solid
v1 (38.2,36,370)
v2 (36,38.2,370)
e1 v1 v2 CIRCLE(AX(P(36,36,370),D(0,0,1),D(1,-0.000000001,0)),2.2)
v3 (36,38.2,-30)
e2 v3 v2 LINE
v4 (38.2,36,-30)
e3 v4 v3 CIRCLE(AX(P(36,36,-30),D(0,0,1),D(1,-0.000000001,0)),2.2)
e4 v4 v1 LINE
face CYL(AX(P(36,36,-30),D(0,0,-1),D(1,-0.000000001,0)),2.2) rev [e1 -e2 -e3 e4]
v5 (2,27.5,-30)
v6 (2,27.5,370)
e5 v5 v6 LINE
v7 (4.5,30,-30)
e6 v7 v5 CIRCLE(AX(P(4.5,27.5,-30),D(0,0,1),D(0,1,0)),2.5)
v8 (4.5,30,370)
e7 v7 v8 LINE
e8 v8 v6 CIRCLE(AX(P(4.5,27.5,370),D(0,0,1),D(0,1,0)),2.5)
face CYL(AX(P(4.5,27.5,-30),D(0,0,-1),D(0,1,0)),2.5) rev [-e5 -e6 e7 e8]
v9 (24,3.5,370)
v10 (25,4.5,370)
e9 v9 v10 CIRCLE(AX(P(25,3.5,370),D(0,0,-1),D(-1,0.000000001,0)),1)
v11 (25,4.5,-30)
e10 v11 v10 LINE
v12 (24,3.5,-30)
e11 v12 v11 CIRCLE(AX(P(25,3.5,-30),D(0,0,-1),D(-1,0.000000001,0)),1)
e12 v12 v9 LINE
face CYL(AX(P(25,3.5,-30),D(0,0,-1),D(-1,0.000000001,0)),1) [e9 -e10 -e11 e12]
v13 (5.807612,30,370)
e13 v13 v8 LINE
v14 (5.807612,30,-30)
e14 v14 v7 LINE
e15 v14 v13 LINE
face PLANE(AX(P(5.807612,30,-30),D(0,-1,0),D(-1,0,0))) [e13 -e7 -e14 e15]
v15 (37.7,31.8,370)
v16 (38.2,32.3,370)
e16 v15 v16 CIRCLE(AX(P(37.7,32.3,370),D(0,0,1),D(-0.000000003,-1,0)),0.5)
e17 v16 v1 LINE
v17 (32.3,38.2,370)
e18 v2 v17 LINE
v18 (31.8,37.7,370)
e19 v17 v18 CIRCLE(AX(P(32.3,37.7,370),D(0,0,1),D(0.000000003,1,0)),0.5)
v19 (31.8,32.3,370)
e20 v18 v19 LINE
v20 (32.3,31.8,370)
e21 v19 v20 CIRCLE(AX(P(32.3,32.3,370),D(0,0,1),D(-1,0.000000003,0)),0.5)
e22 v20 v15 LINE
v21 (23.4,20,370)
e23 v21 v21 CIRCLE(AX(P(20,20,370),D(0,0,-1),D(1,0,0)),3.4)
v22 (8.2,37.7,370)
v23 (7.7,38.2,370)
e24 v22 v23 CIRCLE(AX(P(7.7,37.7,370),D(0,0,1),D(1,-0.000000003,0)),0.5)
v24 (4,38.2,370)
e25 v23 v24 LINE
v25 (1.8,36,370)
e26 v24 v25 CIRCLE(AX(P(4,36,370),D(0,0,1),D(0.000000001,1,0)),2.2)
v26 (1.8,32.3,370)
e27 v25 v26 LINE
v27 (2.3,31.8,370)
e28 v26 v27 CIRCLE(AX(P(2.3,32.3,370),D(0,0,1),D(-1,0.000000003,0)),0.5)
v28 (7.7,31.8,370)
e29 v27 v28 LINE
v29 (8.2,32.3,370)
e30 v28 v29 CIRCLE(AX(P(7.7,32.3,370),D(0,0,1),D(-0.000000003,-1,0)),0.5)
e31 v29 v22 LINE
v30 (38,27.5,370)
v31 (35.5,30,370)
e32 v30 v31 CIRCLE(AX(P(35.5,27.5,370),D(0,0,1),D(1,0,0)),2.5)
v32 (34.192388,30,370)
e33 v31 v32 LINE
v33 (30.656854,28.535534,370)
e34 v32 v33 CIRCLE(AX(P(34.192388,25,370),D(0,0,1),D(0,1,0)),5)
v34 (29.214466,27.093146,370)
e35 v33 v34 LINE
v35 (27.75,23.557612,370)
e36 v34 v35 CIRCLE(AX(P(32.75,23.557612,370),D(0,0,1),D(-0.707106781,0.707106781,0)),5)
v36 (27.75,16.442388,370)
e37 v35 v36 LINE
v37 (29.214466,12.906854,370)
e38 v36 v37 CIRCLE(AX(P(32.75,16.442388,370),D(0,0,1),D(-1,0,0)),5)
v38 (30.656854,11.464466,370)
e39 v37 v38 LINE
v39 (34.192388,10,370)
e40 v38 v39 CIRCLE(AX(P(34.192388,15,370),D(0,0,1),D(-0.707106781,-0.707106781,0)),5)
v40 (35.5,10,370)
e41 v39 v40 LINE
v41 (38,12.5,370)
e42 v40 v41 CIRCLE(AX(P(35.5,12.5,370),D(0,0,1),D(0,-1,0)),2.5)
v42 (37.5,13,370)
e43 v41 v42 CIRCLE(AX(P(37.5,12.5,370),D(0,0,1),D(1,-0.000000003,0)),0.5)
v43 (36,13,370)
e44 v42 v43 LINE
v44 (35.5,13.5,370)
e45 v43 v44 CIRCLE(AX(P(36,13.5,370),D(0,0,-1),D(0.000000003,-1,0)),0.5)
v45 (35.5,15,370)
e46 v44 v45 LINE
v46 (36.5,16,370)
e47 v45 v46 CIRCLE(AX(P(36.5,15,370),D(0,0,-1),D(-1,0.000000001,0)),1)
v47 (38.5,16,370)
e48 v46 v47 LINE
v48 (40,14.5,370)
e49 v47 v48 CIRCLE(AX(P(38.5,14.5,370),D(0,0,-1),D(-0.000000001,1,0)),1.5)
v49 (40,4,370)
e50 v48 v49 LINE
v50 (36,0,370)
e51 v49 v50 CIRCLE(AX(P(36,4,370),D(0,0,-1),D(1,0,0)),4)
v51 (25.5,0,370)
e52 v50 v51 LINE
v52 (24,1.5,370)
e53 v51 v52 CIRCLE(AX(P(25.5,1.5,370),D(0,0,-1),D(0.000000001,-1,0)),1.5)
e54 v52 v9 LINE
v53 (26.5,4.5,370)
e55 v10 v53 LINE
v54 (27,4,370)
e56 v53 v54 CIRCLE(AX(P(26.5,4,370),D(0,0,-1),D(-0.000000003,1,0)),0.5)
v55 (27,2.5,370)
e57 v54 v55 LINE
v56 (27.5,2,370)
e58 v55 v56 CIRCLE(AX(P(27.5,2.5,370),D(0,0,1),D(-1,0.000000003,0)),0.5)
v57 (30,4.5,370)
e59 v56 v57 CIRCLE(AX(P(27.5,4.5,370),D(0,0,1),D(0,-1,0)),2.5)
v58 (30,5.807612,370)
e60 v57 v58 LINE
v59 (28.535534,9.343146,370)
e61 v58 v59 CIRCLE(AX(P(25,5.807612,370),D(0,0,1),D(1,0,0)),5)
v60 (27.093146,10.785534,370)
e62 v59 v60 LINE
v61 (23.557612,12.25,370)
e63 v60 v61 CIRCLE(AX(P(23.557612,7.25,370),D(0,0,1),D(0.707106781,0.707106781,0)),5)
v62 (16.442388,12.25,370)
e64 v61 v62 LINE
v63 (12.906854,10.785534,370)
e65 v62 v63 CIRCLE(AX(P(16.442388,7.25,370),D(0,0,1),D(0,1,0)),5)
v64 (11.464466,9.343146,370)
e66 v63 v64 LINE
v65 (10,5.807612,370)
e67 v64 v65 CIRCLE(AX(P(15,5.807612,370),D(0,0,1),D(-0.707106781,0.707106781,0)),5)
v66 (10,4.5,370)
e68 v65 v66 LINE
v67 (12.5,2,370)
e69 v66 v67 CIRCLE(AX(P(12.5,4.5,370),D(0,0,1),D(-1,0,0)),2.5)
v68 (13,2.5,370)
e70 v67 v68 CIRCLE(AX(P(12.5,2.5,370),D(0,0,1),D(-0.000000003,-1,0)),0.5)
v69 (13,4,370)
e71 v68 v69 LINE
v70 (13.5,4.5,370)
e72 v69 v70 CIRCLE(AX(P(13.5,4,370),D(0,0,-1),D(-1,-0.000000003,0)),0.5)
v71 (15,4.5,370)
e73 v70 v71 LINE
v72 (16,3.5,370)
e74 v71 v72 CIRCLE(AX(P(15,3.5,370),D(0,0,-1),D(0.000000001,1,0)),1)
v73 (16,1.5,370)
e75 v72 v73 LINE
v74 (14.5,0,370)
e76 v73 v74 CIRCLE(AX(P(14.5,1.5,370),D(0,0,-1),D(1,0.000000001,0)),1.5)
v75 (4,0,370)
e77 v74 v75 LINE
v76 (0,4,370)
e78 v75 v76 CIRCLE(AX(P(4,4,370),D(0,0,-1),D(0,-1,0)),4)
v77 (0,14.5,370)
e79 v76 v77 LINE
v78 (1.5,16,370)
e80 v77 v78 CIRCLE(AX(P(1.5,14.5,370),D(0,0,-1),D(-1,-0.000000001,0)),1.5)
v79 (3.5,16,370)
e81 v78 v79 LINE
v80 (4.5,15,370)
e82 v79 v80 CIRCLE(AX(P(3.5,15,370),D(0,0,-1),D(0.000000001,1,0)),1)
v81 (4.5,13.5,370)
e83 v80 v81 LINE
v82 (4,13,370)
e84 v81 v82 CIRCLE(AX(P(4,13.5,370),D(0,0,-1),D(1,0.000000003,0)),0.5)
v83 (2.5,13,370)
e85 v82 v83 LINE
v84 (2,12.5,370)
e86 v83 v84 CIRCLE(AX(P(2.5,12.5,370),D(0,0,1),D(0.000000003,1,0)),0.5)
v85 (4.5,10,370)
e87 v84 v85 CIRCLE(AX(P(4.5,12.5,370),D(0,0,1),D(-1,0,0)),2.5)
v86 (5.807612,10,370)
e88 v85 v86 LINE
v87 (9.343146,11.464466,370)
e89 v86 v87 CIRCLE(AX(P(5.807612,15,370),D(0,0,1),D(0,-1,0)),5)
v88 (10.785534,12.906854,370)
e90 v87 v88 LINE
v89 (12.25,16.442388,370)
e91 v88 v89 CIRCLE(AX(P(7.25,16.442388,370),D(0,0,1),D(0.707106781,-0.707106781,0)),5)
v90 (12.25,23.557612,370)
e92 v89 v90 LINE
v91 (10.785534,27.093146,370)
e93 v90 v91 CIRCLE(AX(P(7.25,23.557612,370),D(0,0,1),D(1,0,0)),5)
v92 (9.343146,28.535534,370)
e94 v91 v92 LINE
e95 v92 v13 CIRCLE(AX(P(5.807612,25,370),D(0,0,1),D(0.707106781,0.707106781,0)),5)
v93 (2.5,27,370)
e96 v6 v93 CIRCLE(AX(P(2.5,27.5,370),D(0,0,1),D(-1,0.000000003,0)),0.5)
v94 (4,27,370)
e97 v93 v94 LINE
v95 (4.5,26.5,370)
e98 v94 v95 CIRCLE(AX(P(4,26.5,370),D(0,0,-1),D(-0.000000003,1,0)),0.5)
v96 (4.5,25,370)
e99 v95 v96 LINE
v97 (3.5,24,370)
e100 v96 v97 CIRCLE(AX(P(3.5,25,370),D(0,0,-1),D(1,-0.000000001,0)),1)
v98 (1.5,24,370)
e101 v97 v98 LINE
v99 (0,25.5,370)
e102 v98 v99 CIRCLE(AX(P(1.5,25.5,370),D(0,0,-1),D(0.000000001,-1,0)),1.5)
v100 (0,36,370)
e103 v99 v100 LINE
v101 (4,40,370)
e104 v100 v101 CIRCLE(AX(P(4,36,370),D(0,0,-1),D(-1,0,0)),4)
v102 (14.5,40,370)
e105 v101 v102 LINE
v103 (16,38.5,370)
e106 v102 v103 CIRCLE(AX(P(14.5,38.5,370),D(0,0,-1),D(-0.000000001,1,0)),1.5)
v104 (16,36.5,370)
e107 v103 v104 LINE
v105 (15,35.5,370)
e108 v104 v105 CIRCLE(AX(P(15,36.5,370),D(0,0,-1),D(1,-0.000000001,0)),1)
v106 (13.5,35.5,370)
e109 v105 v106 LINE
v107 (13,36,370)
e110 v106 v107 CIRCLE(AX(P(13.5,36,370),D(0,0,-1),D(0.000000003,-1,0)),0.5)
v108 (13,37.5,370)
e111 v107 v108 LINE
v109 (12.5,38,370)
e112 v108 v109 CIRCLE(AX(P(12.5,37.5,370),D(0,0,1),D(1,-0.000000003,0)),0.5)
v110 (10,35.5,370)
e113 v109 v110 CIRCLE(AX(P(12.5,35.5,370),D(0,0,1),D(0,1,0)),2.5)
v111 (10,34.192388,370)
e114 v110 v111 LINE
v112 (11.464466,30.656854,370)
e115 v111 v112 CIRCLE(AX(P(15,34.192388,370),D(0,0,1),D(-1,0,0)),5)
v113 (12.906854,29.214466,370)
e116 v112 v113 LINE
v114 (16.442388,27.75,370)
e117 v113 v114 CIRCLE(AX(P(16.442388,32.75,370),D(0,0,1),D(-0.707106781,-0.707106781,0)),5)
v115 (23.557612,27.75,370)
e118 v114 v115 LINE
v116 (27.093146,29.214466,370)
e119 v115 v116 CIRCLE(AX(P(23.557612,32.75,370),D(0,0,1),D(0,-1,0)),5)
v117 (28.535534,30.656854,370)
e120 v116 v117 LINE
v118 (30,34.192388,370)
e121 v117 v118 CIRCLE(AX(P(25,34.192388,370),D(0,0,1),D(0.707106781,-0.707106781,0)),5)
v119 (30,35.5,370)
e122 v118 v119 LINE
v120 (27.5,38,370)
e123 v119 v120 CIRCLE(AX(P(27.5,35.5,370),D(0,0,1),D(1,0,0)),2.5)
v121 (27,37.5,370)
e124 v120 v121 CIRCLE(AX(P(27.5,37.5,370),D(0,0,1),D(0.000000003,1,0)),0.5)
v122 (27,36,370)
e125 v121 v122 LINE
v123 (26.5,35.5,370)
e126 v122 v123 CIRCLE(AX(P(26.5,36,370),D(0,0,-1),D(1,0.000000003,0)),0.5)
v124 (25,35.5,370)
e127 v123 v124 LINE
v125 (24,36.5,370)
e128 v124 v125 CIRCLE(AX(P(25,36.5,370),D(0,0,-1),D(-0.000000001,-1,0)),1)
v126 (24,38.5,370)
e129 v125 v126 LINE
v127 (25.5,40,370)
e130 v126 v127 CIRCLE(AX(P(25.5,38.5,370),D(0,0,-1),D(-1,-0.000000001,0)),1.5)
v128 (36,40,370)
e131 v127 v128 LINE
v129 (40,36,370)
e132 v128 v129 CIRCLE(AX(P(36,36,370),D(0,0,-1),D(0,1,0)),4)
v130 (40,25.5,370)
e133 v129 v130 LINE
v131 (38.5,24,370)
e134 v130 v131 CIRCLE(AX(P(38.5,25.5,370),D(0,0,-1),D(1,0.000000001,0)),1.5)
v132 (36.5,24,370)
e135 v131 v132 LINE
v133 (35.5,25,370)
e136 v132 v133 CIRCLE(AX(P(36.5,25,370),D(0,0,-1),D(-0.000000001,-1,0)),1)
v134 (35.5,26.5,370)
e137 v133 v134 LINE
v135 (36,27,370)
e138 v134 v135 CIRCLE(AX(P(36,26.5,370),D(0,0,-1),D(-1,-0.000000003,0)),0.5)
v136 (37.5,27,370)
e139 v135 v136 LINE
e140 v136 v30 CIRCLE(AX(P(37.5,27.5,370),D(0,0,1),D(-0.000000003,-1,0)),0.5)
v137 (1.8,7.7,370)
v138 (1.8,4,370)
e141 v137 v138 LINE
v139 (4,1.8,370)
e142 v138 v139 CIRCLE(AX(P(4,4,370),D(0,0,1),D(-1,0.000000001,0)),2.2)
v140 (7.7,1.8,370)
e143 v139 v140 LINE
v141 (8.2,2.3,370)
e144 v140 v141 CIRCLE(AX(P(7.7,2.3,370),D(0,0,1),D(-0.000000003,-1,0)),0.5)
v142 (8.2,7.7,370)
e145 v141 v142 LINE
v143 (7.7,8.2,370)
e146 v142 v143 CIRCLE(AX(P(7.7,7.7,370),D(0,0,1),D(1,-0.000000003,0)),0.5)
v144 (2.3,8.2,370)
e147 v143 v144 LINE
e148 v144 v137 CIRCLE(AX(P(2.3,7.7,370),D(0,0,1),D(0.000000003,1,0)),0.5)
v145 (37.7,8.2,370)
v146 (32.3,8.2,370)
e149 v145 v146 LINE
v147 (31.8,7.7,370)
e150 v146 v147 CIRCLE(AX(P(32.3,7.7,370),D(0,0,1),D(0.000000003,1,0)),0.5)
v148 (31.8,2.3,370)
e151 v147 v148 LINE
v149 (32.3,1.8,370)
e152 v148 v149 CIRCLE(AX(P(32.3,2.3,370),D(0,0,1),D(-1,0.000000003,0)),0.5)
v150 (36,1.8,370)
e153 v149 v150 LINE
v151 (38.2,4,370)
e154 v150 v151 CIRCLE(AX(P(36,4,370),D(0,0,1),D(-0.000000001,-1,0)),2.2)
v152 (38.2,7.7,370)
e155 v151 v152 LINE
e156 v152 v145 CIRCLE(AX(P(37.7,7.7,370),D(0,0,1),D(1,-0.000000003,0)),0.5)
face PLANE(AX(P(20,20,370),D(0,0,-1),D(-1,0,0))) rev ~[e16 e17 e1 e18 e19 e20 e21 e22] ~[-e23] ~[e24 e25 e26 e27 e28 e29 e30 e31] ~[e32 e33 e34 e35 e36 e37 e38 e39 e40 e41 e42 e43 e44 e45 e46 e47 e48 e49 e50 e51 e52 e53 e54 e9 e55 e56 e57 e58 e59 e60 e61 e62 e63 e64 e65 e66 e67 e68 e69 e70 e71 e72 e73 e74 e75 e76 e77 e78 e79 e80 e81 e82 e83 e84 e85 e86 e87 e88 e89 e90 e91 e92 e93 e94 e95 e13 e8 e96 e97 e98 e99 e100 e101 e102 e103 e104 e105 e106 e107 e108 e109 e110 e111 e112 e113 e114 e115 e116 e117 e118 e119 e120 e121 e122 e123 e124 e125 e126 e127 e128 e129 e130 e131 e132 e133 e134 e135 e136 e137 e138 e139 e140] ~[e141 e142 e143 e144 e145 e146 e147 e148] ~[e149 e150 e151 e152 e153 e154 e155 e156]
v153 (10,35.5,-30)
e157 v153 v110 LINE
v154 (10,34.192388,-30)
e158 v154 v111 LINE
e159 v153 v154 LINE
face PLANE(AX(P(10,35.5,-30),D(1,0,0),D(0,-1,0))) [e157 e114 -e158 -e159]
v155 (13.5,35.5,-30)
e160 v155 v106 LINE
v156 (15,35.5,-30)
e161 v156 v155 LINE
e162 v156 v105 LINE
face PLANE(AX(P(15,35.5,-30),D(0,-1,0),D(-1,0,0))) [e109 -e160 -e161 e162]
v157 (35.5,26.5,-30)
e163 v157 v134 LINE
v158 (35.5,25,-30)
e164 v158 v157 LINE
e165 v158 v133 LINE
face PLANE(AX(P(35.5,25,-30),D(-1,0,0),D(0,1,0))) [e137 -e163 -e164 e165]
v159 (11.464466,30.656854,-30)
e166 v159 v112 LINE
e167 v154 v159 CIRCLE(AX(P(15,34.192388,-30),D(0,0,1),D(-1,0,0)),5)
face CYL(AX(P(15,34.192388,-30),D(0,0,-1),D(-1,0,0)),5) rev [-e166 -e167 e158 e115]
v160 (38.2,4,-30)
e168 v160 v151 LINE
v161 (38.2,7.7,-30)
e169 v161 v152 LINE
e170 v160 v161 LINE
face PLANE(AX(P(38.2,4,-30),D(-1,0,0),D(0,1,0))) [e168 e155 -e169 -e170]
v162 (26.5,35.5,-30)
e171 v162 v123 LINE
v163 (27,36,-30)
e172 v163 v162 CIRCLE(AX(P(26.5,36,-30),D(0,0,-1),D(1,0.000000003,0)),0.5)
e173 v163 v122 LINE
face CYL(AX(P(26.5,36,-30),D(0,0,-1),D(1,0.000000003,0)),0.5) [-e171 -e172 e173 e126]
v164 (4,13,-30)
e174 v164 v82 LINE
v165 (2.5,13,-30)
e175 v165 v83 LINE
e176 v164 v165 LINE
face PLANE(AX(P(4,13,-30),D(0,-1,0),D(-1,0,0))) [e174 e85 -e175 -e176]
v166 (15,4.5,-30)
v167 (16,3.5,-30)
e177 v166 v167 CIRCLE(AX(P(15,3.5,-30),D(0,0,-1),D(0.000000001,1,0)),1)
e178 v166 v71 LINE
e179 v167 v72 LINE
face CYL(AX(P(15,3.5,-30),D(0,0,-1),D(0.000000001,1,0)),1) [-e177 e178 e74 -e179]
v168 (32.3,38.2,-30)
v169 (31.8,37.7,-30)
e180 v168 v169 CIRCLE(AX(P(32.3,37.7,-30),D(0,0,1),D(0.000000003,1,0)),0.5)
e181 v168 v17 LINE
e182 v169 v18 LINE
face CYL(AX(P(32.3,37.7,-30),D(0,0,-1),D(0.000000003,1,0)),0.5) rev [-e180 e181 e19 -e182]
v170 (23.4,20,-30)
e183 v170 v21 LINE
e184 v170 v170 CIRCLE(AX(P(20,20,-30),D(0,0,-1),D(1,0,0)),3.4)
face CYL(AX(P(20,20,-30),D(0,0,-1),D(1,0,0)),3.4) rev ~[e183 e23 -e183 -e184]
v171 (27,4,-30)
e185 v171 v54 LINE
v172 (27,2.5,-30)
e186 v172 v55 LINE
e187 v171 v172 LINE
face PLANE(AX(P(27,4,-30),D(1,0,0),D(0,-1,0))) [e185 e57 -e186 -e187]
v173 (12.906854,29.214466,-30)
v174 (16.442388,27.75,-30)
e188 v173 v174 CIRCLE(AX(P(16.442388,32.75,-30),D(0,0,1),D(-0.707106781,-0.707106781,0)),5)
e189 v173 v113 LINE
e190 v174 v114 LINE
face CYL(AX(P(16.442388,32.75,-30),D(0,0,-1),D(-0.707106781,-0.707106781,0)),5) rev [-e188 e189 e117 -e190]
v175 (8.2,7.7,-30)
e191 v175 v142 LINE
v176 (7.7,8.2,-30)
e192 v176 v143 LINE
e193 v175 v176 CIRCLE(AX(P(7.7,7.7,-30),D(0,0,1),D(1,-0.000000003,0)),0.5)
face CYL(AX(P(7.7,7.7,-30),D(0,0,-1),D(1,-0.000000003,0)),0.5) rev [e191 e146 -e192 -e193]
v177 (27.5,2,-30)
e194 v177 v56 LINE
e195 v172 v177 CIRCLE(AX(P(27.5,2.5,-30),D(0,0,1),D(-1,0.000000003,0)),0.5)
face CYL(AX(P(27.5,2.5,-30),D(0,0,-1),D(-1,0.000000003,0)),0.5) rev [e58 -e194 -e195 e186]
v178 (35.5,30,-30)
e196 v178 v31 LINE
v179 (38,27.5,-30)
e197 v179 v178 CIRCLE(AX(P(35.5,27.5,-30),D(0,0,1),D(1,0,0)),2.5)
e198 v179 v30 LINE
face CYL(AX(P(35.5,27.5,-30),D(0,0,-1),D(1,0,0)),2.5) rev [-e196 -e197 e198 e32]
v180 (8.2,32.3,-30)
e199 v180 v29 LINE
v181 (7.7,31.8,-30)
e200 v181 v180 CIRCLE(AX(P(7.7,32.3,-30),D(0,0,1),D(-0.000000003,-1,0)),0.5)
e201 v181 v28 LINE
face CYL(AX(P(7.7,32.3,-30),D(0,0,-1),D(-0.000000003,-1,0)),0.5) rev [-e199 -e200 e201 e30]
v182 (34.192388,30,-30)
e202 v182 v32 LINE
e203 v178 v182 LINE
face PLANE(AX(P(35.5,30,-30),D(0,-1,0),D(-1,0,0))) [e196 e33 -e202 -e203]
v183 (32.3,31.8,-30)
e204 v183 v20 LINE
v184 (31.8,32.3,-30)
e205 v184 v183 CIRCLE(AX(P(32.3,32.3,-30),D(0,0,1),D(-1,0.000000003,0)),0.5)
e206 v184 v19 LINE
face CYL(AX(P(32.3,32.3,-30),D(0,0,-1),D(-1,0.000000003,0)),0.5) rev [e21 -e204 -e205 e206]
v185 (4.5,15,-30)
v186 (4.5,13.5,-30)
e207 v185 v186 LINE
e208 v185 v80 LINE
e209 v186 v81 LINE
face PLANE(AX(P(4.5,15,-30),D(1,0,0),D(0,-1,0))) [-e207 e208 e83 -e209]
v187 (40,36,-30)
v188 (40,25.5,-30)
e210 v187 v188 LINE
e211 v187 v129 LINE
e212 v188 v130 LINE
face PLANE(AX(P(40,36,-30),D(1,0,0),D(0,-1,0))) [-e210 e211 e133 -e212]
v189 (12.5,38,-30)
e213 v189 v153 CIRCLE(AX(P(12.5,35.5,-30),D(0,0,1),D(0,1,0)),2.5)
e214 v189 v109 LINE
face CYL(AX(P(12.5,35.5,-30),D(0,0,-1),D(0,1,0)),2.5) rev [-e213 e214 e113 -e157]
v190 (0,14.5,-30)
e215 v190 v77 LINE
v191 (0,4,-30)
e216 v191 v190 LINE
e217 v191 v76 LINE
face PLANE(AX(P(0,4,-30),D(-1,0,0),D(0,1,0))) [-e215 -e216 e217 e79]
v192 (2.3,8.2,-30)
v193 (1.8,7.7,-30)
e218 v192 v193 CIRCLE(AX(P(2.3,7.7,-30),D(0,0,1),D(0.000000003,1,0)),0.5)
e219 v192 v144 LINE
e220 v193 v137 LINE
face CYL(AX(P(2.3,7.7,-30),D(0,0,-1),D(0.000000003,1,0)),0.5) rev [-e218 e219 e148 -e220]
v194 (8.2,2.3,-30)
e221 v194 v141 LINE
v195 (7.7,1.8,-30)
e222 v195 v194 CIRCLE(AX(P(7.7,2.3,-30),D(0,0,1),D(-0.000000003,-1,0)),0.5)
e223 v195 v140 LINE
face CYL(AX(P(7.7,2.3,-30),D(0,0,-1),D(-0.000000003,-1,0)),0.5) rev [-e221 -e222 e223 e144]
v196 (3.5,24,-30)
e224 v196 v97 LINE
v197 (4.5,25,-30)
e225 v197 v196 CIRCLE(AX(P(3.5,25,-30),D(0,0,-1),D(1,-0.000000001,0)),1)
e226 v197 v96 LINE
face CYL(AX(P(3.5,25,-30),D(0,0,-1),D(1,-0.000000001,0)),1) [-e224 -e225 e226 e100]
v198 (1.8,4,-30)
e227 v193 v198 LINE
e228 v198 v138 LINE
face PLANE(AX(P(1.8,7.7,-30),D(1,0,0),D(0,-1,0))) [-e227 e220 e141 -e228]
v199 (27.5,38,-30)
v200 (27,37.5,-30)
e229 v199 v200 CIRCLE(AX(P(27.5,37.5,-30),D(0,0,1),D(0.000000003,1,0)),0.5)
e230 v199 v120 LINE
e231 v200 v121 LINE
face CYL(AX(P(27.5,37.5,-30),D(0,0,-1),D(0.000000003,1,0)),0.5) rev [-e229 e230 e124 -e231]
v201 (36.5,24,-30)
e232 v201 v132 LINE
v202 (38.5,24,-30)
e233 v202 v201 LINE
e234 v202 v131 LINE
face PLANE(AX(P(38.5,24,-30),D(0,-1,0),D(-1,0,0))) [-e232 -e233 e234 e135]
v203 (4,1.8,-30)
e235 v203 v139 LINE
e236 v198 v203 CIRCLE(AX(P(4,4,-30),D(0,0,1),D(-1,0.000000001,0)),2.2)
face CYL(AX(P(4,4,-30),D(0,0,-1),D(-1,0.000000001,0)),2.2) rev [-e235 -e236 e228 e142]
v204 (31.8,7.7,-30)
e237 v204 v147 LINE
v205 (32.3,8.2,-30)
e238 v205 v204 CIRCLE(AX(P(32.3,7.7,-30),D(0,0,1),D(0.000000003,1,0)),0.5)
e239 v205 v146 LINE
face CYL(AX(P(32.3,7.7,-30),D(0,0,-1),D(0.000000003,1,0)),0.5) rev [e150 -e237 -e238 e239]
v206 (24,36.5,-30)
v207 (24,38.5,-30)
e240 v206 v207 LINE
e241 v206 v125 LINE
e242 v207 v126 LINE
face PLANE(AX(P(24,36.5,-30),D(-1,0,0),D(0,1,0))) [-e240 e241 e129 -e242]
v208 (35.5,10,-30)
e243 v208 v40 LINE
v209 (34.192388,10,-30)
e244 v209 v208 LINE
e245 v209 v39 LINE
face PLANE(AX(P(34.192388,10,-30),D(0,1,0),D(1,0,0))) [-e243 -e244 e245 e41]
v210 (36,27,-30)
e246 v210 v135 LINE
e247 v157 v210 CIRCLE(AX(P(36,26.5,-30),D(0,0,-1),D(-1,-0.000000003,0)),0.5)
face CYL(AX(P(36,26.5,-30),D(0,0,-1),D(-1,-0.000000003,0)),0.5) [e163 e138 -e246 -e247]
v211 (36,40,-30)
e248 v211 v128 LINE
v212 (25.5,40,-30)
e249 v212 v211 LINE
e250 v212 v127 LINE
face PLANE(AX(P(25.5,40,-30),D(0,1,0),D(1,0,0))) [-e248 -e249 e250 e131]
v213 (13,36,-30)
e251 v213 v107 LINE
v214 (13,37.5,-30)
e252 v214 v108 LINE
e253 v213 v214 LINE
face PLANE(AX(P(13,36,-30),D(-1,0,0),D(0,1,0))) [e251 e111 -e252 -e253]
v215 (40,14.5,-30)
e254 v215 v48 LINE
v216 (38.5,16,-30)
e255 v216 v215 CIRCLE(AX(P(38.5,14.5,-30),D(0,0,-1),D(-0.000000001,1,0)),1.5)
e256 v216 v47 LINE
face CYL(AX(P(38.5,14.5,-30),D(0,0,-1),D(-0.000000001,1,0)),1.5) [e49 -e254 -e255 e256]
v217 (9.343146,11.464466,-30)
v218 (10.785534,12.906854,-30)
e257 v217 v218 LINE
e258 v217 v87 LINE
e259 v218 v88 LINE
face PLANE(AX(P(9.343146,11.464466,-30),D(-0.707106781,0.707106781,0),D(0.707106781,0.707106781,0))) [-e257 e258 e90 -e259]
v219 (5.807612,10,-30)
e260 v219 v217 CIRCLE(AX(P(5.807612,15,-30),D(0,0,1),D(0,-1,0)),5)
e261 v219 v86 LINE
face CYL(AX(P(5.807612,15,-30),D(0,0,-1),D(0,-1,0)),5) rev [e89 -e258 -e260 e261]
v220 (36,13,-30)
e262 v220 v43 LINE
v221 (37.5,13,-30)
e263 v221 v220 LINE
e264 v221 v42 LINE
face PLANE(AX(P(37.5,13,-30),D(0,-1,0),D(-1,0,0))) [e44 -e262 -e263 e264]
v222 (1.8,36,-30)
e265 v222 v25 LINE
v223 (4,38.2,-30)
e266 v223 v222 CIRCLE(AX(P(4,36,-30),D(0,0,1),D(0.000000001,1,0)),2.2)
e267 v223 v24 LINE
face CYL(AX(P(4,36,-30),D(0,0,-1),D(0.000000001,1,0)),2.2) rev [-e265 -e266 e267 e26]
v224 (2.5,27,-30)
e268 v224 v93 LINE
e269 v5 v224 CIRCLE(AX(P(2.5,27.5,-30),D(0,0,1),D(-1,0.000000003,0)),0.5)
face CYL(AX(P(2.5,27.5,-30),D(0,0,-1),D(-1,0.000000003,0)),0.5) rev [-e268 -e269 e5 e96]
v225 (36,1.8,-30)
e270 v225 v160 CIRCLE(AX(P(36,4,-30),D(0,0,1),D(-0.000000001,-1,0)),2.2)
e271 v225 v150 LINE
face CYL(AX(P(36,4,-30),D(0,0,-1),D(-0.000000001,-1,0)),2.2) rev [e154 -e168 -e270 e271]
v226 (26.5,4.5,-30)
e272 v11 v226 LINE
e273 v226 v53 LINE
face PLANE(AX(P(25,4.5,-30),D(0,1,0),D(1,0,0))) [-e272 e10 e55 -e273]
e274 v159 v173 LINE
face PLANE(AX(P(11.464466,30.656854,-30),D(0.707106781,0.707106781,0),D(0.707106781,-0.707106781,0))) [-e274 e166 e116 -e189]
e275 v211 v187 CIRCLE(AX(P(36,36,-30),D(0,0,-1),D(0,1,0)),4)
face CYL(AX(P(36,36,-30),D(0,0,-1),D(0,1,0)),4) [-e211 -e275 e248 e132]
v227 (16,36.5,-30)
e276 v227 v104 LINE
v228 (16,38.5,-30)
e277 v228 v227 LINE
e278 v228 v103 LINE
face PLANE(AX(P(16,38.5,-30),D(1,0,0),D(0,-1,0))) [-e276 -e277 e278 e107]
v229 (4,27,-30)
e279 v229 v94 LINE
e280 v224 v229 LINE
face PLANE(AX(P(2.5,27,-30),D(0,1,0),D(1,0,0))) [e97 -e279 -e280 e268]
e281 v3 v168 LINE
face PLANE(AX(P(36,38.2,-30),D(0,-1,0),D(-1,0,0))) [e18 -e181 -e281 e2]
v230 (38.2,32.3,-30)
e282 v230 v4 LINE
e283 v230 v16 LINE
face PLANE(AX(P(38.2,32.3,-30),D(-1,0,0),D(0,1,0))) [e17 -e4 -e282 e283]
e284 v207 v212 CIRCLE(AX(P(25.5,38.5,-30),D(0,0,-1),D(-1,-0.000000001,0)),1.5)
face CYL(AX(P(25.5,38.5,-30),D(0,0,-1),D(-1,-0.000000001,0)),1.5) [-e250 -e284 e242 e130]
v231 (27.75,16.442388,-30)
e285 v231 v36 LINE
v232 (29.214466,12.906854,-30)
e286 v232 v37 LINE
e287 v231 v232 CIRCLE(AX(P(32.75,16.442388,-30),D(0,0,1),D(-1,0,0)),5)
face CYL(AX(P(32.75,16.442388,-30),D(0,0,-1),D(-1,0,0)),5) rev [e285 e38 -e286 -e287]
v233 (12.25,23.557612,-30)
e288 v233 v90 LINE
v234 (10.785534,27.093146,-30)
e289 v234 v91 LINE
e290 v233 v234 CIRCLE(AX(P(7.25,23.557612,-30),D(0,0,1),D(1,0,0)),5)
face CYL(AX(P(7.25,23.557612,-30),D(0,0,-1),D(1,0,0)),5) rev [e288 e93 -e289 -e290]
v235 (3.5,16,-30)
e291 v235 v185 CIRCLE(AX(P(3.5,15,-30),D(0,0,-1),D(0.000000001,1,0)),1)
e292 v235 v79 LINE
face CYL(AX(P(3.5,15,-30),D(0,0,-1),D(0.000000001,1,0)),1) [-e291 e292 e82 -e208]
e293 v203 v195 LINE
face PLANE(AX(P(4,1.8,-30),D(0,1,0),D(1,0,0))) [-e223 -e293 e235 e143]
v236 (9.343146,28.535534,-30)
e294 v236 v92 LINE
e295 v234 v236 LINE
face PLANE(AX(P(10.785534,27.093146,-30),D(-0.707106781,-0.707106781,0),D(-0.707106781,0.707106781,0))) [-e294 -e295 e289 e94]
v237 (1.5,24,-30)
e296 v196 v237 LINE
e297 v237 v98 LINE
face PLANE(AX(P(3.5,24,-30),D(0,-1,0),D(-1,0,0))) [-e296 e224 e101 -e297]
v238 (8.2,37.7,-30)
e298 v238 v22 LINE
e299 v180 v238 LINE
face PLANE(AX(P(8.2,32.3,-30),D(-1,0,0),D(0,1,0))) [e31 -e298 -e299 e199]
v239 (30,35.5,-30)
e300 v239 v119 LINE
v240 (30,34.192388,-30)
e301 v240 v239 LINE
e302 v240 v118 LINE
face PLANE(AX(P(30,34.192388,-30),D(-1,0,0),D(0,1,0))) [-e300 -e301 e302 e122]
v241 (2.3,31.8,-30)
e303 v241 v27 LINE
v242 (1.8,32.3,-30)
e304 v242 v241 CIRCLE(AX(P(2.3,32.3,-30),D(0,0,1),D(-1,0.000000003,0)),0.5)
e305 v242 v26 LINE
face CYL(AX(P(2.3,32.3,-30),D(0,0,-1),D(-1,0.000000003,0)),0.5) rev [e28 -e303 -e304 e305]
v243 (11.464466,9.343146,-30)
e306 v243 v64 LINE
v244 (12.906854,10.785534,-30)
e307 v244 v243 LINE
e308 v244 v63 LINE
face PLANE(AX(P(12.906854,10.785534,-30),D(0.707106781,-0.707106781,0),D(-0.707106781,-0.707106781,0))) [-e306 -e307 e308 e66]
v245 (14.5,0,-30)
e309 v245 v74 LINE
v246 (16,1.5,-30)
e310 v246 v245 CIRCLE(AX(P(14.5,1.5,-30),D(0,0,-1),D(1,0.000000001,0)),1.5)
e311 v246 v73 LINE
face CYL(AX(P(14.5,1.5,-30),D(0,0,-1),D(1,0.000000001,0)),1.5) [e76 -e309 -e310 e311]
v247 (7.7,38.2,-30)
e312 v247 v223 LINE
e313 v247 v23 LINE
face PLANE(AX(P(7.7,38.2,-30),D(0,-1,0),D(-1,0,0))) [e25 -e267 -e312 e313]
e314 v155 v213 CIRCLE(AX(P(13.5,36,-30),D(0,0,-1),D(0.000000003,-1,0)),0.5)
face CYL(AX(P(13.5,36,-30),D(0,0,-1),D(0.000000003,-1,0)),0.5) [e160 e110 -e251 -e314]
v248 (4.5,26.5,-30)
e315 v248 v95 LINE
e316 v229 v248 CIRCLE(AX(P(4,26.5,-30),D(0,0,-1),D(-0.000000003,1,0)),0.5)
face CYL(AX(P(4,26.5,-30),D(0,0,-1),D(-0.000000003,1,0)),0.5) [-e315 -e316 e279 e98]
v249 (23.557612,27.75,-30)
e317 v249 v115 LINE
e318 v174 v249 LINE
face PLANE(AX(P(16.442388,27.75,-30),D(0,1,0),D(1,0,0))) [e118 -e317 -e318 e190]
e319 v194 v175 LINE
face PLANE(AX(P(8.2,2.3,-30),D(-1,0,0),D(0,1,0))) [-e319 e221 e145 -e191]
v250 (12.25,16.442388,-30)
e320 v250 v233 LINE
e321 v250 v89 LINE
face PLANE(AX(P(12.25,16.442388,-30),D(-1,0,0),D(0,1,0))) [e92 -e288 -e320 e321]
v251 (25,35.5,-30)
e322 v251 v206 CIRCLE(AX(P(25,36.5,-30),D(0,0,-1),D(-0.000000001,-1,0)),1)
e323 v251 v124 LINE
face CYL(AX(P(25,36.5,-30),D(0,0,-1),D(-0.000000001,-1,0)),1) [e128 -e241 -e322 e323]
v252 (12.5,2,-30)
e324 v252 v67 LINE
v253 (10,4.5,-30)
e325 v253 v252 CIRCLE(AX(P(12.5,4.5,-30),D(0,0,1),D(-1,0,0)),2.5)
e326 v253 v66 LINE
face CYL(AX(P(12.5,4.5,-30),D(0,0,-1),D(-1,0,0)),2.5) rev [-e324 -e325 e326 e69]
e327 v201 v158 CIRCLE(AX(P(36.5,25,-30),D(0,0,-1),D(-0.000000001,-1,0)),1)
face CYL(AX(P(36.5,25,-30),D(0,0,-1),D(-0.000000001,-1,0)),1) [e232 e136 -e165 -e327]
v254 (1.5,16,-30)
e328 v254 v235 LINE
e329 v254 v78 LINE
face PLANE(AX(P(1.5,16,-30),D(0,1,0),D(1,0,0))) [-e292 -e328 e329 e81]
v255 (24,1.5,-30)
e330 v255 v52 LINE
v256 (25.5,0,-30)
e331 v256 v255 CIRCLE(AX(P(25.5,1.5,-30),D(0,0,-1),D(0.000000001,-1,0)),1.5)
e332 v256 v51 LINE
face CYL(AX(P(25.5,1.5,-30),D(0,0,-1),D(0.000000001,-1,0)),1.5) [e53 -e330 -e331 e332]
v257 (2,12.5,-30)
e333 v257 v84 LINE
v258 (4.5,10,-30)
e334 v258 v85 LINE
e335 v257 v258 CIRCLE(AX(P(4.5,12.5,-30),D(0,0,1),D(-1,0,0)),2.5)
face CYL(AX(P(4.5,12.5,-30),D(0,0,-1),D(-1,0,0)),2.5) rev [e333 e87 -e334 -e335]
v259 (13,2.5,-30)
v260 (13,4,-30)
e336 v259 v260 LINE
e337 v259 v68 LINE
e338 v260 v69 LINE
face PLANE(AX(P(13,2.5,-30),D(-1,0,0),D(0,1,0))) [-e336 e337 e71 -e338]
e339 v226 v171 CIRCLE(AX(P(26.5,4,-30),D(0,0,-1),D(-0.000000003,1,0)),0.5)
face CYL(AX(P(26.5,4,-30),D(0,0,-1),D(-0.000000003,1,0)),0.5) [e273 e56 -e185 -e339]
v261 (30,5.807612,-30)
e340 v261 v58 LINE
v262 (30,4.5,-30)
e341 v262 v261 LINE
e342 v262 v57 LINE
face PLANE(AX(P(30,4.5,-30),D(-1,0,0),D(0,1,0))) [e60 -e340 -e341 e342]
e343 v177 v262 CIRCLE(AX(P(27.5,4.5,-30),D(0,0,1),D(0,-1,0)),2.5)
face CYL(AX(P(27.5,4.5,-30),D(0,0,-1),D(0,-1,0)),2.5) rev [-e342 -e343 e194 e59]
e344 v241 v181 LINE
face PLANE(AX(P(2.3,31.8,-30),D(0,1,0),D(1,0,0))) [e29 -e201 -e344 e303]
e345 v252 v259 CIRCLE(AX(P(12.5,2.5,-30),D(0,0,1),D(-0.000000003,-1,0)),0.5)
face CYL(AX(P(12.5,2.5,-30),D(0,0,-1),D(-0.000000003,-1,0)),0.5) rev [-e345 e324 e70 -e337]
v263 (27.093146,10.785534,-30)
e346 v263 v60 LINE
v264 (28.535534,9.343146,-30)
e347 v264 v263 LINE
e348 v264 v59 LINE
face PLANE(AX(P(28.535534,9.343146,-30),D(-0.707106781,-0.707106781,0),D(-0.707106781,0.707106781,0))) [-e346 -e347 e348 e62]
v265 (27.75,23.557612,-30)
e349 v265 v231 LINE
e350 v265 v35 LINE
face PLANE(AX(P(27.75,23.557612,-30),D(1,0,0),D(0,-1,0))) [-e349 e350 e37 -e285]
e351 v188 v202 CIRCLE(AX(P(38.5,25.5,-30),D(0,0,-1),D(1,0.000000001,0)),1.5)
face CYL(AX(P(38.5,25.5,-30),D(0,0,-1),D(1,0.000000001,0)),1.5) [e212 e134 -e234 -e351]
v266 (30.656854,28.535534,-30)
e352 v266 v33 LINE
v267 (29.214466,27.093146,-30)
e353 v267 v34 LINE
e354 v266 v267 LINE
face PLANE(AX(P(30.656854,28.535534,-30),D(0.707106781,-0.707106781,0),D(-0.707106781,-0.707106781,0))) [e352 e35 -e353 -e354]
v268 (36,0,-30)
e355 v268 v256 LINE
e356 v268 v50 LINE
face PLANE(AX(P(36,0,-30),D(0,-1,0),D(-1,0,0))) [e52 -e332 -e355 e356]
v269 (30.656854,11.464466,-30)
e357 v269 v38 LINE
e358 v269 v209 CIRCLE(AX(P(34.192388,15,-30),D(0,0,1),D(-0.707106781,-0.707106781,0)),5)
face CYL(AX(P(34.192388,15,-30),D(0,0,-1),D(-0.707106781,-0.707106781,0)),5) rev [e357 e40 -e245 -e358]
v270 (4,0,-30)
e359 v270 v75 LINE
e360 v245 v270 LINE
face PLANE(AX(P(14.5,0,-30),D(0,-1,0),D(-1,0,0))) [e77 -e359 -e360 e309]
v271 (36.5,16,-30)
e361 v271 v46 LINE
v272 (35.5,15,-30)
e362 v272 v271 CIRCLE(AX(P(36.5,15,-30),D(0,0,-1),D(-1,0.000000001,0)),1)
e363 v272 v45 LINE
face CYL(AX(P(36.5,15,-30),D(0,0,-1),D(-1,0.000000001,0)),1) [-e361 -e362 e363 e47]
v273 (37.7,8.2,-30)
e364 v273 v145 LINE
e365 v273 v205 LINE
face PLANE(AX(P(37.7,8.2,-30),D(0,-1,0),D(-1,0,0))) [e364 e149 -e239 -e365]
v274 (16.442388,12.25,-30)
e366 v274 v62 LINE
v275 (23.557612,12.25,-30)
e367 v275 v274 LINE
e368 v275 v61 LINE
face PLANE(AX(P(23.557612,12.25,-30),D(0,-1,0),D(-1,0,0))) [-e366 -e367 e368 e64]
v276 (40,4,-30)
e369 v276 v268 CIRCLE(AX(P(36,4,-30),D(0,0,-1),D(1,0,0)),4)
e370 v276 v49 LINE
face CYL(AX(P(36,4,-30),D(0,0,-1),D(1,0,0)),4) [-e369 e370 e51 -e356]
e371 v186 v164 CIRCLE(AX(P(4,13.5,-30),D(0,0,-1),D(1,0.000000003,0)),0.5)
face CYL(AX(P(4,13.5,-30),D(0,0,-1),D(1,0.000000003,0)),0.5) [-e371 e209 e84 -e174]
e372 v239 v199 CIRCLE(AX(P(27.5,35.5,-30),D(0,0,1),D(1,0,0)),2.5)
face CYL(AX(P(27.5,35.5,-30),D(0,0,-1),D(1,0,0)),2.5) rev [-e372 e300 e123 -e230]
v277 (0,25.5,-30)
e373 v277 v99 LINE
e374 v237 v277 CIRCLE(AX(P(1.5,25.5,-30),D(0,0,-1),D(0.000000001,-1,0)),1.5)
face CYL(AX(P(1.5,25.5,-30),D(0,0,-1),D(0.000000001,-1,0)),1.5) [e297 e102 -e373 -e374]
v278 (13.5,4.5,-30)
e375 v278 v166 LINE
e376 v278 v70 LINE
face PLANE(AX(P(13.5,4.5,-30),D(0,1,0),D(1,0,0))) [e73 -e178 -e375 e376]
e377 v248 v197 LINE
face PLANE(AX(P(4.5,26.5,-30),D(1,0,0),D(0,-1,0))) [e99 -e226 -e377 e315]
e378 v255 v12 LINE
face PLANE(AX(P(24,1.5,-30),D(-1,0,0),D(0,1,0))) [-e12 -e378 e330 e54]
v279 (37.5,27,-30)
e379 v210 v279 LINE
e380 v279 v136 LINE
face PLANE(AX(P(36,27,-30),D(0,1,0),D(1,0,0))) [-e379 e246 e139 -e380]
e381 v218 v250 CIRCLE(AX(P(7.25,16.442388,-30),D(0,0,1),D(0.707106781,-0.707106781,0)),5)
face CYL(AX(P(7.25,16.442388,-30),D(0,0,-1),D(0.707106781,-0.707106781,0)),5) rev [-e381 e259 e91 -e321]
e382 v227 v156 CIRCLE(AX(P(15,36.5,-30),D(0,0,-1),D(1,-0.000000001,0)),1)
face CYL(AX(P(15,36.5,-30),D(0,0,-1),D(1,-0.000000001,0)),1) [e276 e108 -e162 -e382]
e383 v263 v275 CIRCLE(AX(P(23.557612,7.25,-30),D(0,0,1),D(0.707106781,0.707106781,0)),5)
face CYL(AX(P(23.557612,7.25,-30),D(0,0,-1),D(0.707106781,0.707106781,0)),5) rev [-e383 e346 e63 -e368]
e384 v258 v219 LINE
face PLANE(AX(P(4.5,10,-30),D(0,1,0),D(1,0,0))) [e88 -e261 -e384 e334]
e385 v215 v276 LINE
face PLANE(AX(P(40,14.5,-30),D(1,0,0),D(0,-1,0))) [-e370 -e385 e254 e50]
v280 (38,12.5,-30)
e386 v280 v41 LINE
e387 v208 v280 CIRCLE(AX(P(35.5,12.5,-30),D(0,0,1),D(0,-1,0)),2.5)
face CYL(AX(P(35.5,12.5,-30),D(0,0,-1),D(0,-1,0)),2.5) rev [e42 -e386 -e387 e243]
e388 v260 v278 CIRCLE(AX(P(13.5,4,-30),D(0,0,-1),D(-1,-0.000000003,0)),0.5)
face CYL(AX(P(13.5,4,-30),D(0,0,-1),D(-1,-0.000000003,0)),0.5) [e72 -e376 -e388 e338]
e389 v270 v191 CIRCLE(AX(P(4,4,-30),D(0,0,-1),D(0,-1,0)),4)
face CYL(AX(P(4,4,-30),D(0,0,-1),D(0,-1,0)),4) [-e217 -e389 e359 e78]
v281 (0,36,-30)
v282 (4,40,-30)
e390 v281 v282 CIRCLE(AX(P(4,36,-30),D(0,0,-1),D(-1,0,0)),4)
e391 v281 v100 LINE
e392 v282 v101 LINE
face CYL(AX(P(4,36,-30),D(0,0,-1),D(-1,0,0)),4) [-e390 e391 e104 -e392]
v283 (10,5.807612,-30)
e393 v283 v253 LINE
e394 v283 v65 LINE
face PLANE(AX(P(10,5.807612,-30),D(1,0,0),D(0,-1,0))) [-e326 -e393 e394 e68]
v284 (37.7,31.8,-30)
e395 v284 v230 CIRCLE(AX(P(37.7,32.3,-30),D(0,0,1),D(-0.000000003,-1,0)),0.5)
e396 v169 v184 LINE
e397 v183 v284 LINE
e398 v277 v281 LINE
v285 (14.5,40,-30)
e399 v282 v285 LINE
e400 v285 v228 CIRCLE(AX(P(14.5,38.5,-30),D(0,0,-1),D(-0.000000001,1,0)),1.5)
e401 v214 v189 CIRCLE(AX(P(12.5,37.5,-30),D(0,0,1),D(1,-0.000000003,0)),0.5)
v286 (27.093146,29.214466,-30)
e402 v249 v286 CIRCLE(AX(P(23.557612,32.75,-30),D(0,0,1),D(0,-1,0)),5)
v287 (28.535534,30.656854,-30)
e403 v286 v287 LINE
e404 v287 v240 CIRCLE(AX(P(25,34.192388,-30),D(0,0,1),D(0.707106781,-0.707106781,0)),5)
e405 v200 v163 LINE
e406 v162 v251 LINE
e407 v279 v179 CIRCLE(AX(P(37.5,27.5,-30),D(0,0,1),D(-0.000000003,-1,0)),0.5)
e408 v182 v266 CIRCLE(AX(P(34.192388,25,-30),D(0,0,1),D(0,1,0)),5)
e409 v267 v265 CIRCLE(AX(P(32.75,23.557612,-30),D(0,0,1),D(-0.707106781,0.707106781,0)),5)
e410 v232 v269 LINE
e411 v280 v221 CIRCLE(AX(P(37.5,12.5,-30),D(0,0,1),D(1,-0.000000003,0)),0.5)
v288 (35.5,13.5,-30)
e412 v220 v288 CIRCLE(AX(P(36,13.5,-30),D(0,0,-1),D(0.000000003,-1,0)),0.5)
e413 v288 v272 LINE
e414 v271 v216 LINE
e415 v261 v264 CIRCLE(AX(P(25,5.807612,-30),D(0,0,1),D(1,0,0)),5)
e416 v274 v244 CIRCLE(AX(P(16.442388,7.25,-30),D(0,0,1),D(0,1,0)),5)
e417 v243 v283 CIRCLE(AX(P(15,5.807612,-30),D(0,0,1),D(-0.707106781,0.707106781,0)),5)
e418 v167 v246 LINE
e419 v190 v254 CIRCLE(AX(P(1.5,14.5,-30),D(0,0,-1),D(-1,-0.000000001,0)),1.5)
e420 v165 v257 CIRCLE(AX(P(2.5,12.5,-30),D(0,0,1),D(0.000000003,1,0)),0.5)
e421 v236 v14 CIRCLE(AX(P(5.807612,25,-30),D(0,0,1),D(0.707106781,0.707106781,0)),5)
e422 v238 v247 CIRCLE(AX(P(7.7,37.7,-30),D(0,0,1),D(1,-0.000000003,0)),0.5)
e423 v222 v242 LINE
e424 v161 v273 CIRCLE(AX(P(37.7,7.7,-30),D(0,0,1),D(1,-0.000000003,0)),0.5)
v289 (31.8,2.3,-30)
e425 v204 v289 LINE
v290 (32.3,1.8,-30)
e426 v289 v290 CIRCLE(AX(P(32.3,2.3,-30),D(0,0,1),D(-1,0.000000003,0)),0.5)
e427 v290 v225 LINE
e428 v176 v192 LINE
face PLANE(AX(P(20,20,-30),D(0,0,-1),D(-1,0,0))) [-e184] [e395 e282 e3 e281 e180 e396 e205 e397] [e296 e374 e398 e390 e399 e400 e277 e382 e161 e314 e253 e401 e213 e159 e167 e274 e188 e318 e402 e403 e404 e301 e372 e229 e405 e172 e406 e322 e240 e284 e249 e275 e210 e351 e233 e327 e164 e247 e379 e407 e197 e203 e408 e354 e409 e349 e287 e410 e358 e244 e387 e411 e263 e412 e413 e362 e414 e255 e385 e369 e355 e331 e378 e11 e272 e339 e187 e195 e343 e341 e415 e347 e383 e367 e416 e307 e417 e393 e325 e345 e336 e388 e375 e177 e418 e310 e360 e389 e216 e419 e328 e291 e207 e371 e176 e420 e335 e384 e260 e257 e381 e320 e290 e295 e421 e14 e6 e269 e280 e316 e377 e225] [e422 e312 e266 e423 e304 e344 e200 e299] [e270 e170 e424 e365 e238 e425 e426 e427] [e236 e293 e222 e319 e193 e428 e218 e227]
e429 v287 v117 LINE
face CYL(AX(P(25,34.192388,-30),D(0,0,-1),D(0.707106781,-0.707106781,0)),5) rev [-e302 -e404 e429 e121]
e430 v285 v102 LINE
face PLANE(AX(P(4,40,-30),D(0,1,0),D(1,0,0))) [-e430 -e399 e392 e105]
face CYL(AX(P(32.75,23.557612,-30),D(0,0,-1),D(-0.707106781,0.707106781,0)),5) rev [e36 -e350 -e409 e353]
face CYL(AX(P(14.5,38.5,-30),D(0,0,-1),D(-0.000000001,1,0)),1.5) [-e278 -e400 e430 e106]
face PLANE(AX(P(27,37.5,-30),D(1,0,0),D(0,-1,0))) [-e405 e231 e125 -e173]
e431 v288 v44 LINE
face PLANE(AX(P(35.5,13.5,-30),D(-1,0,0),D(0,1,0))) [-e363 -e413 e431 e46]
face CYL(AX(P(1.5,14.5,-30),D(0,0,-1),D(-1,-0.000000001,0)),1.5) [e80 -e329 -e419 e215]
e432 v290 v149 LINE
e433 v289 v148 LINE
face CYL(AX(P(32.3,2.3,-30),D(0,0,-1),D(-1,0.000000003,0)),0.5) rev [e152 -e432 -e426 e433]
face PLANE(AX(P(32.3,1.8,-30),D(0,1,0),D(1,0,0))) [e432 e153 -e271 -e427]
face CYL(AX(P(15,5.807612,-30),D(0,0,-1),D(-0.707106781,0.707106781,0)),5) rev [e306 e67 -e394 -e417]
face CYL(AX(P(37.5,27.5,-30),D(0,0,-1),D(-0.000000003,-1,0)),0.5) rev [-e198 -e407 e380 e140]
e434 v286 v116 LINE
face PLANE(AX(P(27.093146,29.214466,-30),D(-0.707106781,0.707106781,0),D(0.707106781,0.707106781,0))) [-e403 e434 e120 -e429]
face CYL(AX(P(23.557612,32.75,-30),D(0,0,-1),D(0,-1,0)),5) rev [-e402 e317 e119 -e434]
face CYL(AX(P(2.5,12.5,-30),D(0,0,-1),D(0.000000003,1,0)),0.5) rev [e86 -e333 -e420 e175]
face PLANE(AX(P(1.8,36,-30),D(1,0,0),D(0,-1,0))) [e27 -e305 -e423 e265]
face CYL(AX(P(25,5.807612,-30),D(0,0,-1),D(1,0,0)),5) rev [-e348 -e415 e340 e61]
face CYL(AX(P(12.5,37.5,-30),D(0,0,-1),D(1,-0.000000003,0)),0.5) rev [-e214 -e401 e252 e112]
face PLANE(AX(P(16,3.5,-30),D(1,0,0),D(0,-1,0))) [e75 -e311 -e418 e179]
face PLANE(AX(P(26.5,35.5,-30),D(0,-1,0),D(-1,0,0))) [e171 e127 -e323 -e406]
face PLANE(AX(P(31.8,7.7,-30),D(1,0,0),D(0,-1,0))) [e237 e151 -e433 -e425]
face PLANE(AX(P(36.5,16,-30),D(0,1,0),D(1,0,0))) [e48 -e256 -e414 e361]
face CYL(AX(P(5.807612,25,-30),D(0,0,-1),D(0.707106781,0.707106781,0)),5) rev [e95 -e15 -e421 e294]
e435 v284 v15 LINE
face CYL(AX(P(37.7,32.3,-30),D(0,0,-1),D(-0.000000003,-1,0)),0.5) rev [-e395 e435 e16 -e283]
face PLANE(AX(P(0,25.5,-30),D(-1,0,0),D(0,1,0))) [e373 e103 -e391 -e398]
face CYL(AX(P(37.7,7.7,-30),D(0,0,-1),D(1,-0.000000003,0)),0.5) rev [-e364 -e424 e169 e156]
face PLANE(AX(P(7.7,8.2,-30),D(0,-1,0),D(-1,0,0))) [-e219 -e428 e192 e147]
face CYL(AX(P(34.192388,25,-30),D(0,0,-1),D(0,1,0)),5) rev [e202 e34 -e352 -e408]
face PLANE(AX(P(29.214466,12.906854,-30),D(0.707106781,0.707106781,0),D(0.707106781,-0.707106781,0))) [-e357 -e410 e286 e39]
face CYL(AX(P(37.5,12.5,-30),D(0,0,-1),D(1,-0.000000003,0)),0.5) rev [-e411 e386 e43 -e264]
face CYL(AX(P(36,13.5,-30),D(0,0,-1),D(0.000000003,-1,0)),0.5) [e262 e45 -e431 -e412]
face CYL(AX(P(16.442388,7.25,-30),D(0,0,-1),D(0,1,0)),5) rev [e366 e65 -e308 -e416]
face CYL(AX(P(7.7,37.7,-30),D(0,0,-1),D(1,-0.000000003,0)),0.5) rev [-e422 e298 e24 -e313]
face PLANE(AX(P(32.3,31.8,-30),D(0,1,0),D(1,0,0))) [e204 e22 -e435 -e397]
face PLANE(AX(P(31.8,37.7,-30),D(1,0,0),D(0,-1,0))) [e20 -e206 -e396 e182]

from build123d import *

# Parameters (mm, degrees)
ESQUISSE1_R        = 3.4
BOSS_EXTRU_1_DEPTH = 400


with BuildPart() as part:
    # Esquisse1 → Boss.-Extru.1 (new body)
    with BuildSketch(Plane(origin=(0, 0, -30), x_dir=(-1, 0, 0), z_dir=(0, 0, -1))):
        with BuildLine():
            Line((-4.5, 15), (-4.5, 13.5))
            ThreePointArc((-4.5, 13.5), (-4.353553391, 13.146446609), (-4, 13))
            Line((-4, 13), (-2.5, 13))
            ThreePointArc((-2.5, 13), (-2.146446609, 12.853553391), (-2, 12.5))
            ThreePointArc((-2, 12.5), (-2.732233047, 10.732233047), (-4.5, 10))
            Line((-4.5, 10), (-5.807611845, 10))
            ThreePointArc((-5.807611845, 10), (-7.721029006, 10.380602337), (-9.343145751, 11.464466094))
            Line((-9.343145751, 11.464466094), (-10.785533906, 12.906854249))
            ThreePointArc((-10.785533906, 12.906854249), (-11.869397663, 14.528970994), (-12.25, 16.442388155))
            Line((-12.25, 16.442388155), (-12.25, 23.557611845))
            ThreePointArc((-12.25, 23.557611845), (-11.869397663, 25.471029006), (-10.785533906, 27.093145751))
            Line((-10.785533906, 27.093145751), (-9.343145751, 28.535533906))
            ThreePointArc((-9.343145751, 28.535533906), (-7.721029006, 29.619397663), (-5.807611845, 30))
            Line((-5.807611845, 30), (-4.5, 30))
            ThreePointArc((-4.5, 30), (-2.732233047, 29.267766953), (-2, 27.5))
            ThreePointArc((-2, 27.5), (-2.146446609, 27.146446609), (-2.5, 27))
            Line((-2.5, 27), (-4, 27))
            ThreePointArc((-4, 27), (-4.353553391, 26.853553391), (-4.5, 26.5))
            Line((-4.5, 26.5), (-4.5, 25))
            ThreePointArc((-4.5, 25), (-4.207106781, 24.292893219), (-3.5, 24))
            Line((-3.5, 24), (-1.5, 24))
            ThreePointArc((-1.5, 24), (-0.439339828, 24.439339828), (0, 25.5))
            Line((0, 25.5), (0, 36))
            ThreePointArc((0, 36), (-1.171572875, 38.828427125), (-4, 40))
            Line((-4, 40), (-14.5, 40))
            ThreePointArc((-14.5, 40), (-15.560660172, 39.560660172), (-16, 38.5))
            Line((-16, 38.5), (-16, 36.5))
            ThreePointArc((-16, 36.5), (-15.707106781, 35.792893219), (-15, 35.5))
            Line((-15, 35.5), (-13.5, 35.5))
            ThreePointArc((-13.5, 35.5), (-13.146446609, 35.646446609), (-13, 36))
            Line((-13, 36), (-13, 37.5))
            ThreePointArc((-13, 37.5), (-12.853553391, 37.853553391), (-12.5, 38))
            ThreePointArc((-12.5, 38), (-10.732233047, 37.267766953), (-10, 35.5))
            Line((-10, 35.5), (-10, 34.192388155))
            ThreePointArc((-10, 34.192388155), (-10.380602337, 32.278970994), (-11.464466094, 30.656854249))
            Line((-11.464466094, 30.656854249), (-12.906854249, 29.214466094))
            ThreePointArc((-12.906854249, 29.214466094), (-14.528970994, 28.130602337), (-16.442388155, 27.75))
            Line((-16.442388155, 27.75), (-23.557611845, 27.75))
            ThreePointArc((-23.557611845, 27.75), (-25.471029006, 28.130602337), (-27.093145751, 29.214466094))
            Line((-27.093145751, 29.214466094), (-28.535533906, 30.656854249))
            ThreePointArc((-28.535533906, 30.656854249), (-29.619397663, 32.278970994), (-30, 34.192388155))
            Line((-30, 34.192388155), (-30, 35.5))
            ThreePointArc((-30, 35.5), (-29.267766953, 37.267766953), (-27.5, 38))
            ThreePointArc((-27.5, 38), (-27.146446609, 37.853553391), (-27, 37.5))
            Line((-27, 37.5), (-27, 36))
            ThreePointArc((-27, 36), (-26.853553391, 35.646446609), (-26.5, 35.5))
            Line((-26.5, 35.5), (-25, 35.5))
            ThreePointArc((-25, 35.5), (-24.292893219, 35.792893219), (-24, 36.5))
            Line((-24, 36.5), (-24, 38.5))
            ThreePointArc((-24, 38.5), (-24.439339828, 39.560660172), (-25.5, 40))
            Line((-25.5, 40), (-36, 40))
            ThreePointArc((-36, 40), (-38.828427125, 38.828427125), (-40, 36))
            Line((-40, 36), (-40, 25.5))
            ThreePointArc((-40, 25.5), (-39.560660172, 24.439339828), (-38.5, 24))
            Line((-38.5, 24), (-36.5, 24))
            ThreePointArc((-36.5, 24), (-35.792893219, 24.292893219), (-35.5, 25))
            Line((-35.5, 25), (-35.5, 26.5))
            ThreePointArc((-35.5, 26.5), (-35.646446609, 26.853553391), (-36, 27))
            Line((-36, 27), (-37.5, 27))
            ThreePointArc((-37.5, 27), (-37.853553391, 27.146446609), (-38, 27.5))
            ThreePointArc((-38, 27.5), (-37.267766953, 29.267766953), (-35.5, 30))
            Line((-35.5, 30), (-34.192388155, 30))
            ThreePointArc((-34.192388155, 30), (-32.278970994, 29.619397663), (-30.656854249, 28.535533906))
            Line((-30.656854249, 28.535533906), (-29.214466094, 27.093145751))
            ThreePointArc((-29.214466094, 27.093145751), (-28.130602337, 25.471029006), (-27.75, 23.557611845))
            Line((-27.75, 23.557611845), (-27.75, 16.442388155))
            ThreePointArc((-27.75, 16.442388155), (-28.130602337, 14.528970994), (-29.214466094, 12.906854249))
            Line((-29.214466094, 12.906854249), (-30.656854249, 11.464466094))
            ThreePointArc((-30.656854249, 11.464466094), (-32.278970994, 10.380602337), (-34.192388155, 10))
            Line((-34.192388155, 10), (-35.5, 10))
            ThreePointArc((-35.5, 10), (-37.267766953, 10.732233047), (-38, 12.5))
            ThreePointArc((-38, 12.5), (-37.853553391, 12.853553391), (-37.5, 13))
            Line((-37.5, 13), (-36, 13))
            ThreePointArc((-36, 13), (-35.646446609, 13.146446609), (-35.5, 13.5))
            Line((-35.5, 13.5), (-35.5, 15))
            ThreePointArc((-35.5, 15), (-35.792893219, 15.707106781), (-36.5, 16))
            Line((-36.5, 16), (-38.5, 16))
            ThreePointArc((-38.5, 16), (-39.560660172, 15.560660172), (-40, 14.5))
            Line((-40, 14.5), (-40, 4))
            ThreePointArc((-40, 4), (-38.828427125, 1.171572875), (-36, 0))
            Line((-36, 0), (-25.5, 0))
            ThreePointArc((-25.5, 0), (-24.439339828, 0.439339828), (-24, 1.5))
            Line((-24, 1.5), (-24, 3.5))
            ThreePointArc((-24, 3.5), (-24.292893219, 4.207106781), (-25, 4.5))
            Line((-25, 4.5), (-26.5, 4.5))
            ThreePointArc((-26.5, 4.5), (-26.853553391, 4.353553391), (-27, 4))
            Line((-27, 4), (-27, 2.5))
            ThreePointArc((-27, 2.5), (-27.146446609, 2.146446609), (-27.5, 2))
            ThreePointArc((-27.5, 2), (-29.267766953, 2.732233047), (-30, 4.5))
            Line((-30, 4.5), (-30, 5.807611845))
            ThreePointArc((-30, 5.807611845), (-29.619397663, 7.721029006), (-28.535533906, 9.343145751))
            Line((-28.535533906, 9.343145751), (-27.093145751, 10.785533906))
            ThreePointArc((-27.093145751, 10.785533906), (-25.471029006, 11.869397663), (-23.557611845, 12.25))
            Line((-23.557611845, 12.25), (-16.442388155, 12.25))
            ThreePointArc((-16.442388155, 12.25), (-14.528970994, 11.869397663), (-12.906854249, 10.785533906))
            Line((-12.906854249, 10.785533906), (-11.464466094, 9.343145751))
            ThreePointArc((-11.464466094, 9.343145751), (-10.380602337, 7.721029006), (-10, 5.807611845))
            Line((-10, 5.807611845), (-10, 4.5))
            ThreePointArc((-10, 4.5), (-10.732233047, 2.732233047), (-12.5, 2))
            ThreePointArc((-12.5, 2), (-12.853553391, 2.146446609), (-13, 2.5))
            Line((-13, 2.5), (-13, 4))
            ThreePointArc((-13, 4), (-13.146446609, 4.353553391), (-13.5, 4.5))
            Line((-13.5, 4.5), (-15, 4.5))
            ThreePointArc((-15, 4.5), (-15.707106781, 4.207106781), (-16, 3.5))
            Line((-16, 3.5), (-16, 1.5))
            ThreePointArc((-16, 1.5), (-15.560660172, 0.439339828), (-14.5, 0))
            Line((-14.5, 0), (-4, 0))
            ThreePointArc((-4, 0), (-1.171572875, 1.171572875), (0, 4))
            Line((0, 4), (0, 14.5))
            ThreePointArc((0, 14.5), (-0.439339828, 15.560660172), (-1.5, 16))
            Line((-1.5, 16), (-3.5, 16))
            ThreePointArc((-3.5, 16), (-4.207106781, 15.707106781), (-4.5, 15))
        make_face()
        with Locations(Location((-20, 20, 0), (0, 0, 180))):
            Circle(ESQUISSE1_R, mode=Mode.SUBTRACT)
        with BuildLine():
            Line((-4, 1.8), (-7.7, 1.8))
            ThreePointArc((-7.7, 1.8), (-8.053553391, 1.946446609), (-8.2, 2.3))
            Line((-8.2, 2.3), (-8.2, 7.7))
            ThreePointArc((-8.2, 7.7), (-8.053553391, 8.053553391), (-7.7, 8.2))
            Line((-7.7, 8.2), (-2.3, 8.2))
            ThreePointArc((-2.3, 8.2), (-1.946446609, 8.053553391), (-1.8, 7.7))
            Line((-1.8, 7.7), (-1.8, 4))
            ThreePointArc((-1.8, 4), (-2.444365081, 2.444365081), (-4, 1.8))
        make_face(mode=Mode.SUBTRACT)
        with BuildLine():
            Line((-38.2, 4), (-38.2, 7.7))
            ThreePointArc((-38.2, 7.7), (-38.053553391, 8.053553391), (-37.7, 8.2))
            Line((-37.7, 8.2), (-32.3, 8.2))
            ThreePointArc((-32.3, 8.2), (-31.946446609, 8.053553391), (-31.8, 7.7))
            Line((-31.8, 7.7), (-31.8, 2.3))
            ThreePointArc((-31.8, 2.3), (-31.946446609, 1.946446609), (-32.3, 1.8))
            Line((-32.3, 1.8), (-36, 1.8))
            ThreePointArc((-36, 1.8), (-37.555634919, 2.444365081), (-38.2, 4))
        make_face(mode=Mode.SUBTRACT)
        with BuildLine():
            Line((-36, 38.2), (-32.3, 38.2))
            ThreePointArc((-32.3, 38.2), (-31.946446609, 38.053553391), (-31.8, 37.7))
            Line((-31.8, 37.7), (-31.8, 32.3))
            ThreePointArc((-31.8, 32.3), (-31.946446609, 31.946446609), (-32.3, 31.8))
            Line((-32.3, 31.8), (-37.7, 31.8))
            ThreePointArc((-37.7, 31.8), (-38.053553391, 31.946446609), (-38.2, 32.3))
            Line((-38.2, 32.3), (-38.2, 36))
            ThreePointArc((-38.2, 36), (-37.555634919, 37.555634919), (-36, 38.2))
        make_face(mode=Mode.SUBTRACT)
        with BuildLine():
            Line((-1.8, 36), (-1.8, 32.3))
            ThreePointArc((-1.8, 32.3), (-1.946446609, 31.946446609), (-2.3, 31.8))
            Line((-2.3, 31.8), (-7.7, 31.8))
            ThreePointArc((-7.7, 31.8), (-8.053553391, 31.946446609), (-8.2, 32.3))
            Line((-8.2, 32.3), (-8.2, 37.7))
            ThreePointArc((-8.2, 37.7), (-8.053553391, 38.053553391), (-7.7, 38.2))
            Line((-7.7, 38.2), (-4, 38.2))
            ThreePointArc((-4, 38.2), (-2.444365081, 37.555634919), (-1.8, 36))
        make_face(mode=Mode.SUBTRACT)
    extrude(amount=-BOSS_EXTRU_1_DEPTH)


solid = part.part
